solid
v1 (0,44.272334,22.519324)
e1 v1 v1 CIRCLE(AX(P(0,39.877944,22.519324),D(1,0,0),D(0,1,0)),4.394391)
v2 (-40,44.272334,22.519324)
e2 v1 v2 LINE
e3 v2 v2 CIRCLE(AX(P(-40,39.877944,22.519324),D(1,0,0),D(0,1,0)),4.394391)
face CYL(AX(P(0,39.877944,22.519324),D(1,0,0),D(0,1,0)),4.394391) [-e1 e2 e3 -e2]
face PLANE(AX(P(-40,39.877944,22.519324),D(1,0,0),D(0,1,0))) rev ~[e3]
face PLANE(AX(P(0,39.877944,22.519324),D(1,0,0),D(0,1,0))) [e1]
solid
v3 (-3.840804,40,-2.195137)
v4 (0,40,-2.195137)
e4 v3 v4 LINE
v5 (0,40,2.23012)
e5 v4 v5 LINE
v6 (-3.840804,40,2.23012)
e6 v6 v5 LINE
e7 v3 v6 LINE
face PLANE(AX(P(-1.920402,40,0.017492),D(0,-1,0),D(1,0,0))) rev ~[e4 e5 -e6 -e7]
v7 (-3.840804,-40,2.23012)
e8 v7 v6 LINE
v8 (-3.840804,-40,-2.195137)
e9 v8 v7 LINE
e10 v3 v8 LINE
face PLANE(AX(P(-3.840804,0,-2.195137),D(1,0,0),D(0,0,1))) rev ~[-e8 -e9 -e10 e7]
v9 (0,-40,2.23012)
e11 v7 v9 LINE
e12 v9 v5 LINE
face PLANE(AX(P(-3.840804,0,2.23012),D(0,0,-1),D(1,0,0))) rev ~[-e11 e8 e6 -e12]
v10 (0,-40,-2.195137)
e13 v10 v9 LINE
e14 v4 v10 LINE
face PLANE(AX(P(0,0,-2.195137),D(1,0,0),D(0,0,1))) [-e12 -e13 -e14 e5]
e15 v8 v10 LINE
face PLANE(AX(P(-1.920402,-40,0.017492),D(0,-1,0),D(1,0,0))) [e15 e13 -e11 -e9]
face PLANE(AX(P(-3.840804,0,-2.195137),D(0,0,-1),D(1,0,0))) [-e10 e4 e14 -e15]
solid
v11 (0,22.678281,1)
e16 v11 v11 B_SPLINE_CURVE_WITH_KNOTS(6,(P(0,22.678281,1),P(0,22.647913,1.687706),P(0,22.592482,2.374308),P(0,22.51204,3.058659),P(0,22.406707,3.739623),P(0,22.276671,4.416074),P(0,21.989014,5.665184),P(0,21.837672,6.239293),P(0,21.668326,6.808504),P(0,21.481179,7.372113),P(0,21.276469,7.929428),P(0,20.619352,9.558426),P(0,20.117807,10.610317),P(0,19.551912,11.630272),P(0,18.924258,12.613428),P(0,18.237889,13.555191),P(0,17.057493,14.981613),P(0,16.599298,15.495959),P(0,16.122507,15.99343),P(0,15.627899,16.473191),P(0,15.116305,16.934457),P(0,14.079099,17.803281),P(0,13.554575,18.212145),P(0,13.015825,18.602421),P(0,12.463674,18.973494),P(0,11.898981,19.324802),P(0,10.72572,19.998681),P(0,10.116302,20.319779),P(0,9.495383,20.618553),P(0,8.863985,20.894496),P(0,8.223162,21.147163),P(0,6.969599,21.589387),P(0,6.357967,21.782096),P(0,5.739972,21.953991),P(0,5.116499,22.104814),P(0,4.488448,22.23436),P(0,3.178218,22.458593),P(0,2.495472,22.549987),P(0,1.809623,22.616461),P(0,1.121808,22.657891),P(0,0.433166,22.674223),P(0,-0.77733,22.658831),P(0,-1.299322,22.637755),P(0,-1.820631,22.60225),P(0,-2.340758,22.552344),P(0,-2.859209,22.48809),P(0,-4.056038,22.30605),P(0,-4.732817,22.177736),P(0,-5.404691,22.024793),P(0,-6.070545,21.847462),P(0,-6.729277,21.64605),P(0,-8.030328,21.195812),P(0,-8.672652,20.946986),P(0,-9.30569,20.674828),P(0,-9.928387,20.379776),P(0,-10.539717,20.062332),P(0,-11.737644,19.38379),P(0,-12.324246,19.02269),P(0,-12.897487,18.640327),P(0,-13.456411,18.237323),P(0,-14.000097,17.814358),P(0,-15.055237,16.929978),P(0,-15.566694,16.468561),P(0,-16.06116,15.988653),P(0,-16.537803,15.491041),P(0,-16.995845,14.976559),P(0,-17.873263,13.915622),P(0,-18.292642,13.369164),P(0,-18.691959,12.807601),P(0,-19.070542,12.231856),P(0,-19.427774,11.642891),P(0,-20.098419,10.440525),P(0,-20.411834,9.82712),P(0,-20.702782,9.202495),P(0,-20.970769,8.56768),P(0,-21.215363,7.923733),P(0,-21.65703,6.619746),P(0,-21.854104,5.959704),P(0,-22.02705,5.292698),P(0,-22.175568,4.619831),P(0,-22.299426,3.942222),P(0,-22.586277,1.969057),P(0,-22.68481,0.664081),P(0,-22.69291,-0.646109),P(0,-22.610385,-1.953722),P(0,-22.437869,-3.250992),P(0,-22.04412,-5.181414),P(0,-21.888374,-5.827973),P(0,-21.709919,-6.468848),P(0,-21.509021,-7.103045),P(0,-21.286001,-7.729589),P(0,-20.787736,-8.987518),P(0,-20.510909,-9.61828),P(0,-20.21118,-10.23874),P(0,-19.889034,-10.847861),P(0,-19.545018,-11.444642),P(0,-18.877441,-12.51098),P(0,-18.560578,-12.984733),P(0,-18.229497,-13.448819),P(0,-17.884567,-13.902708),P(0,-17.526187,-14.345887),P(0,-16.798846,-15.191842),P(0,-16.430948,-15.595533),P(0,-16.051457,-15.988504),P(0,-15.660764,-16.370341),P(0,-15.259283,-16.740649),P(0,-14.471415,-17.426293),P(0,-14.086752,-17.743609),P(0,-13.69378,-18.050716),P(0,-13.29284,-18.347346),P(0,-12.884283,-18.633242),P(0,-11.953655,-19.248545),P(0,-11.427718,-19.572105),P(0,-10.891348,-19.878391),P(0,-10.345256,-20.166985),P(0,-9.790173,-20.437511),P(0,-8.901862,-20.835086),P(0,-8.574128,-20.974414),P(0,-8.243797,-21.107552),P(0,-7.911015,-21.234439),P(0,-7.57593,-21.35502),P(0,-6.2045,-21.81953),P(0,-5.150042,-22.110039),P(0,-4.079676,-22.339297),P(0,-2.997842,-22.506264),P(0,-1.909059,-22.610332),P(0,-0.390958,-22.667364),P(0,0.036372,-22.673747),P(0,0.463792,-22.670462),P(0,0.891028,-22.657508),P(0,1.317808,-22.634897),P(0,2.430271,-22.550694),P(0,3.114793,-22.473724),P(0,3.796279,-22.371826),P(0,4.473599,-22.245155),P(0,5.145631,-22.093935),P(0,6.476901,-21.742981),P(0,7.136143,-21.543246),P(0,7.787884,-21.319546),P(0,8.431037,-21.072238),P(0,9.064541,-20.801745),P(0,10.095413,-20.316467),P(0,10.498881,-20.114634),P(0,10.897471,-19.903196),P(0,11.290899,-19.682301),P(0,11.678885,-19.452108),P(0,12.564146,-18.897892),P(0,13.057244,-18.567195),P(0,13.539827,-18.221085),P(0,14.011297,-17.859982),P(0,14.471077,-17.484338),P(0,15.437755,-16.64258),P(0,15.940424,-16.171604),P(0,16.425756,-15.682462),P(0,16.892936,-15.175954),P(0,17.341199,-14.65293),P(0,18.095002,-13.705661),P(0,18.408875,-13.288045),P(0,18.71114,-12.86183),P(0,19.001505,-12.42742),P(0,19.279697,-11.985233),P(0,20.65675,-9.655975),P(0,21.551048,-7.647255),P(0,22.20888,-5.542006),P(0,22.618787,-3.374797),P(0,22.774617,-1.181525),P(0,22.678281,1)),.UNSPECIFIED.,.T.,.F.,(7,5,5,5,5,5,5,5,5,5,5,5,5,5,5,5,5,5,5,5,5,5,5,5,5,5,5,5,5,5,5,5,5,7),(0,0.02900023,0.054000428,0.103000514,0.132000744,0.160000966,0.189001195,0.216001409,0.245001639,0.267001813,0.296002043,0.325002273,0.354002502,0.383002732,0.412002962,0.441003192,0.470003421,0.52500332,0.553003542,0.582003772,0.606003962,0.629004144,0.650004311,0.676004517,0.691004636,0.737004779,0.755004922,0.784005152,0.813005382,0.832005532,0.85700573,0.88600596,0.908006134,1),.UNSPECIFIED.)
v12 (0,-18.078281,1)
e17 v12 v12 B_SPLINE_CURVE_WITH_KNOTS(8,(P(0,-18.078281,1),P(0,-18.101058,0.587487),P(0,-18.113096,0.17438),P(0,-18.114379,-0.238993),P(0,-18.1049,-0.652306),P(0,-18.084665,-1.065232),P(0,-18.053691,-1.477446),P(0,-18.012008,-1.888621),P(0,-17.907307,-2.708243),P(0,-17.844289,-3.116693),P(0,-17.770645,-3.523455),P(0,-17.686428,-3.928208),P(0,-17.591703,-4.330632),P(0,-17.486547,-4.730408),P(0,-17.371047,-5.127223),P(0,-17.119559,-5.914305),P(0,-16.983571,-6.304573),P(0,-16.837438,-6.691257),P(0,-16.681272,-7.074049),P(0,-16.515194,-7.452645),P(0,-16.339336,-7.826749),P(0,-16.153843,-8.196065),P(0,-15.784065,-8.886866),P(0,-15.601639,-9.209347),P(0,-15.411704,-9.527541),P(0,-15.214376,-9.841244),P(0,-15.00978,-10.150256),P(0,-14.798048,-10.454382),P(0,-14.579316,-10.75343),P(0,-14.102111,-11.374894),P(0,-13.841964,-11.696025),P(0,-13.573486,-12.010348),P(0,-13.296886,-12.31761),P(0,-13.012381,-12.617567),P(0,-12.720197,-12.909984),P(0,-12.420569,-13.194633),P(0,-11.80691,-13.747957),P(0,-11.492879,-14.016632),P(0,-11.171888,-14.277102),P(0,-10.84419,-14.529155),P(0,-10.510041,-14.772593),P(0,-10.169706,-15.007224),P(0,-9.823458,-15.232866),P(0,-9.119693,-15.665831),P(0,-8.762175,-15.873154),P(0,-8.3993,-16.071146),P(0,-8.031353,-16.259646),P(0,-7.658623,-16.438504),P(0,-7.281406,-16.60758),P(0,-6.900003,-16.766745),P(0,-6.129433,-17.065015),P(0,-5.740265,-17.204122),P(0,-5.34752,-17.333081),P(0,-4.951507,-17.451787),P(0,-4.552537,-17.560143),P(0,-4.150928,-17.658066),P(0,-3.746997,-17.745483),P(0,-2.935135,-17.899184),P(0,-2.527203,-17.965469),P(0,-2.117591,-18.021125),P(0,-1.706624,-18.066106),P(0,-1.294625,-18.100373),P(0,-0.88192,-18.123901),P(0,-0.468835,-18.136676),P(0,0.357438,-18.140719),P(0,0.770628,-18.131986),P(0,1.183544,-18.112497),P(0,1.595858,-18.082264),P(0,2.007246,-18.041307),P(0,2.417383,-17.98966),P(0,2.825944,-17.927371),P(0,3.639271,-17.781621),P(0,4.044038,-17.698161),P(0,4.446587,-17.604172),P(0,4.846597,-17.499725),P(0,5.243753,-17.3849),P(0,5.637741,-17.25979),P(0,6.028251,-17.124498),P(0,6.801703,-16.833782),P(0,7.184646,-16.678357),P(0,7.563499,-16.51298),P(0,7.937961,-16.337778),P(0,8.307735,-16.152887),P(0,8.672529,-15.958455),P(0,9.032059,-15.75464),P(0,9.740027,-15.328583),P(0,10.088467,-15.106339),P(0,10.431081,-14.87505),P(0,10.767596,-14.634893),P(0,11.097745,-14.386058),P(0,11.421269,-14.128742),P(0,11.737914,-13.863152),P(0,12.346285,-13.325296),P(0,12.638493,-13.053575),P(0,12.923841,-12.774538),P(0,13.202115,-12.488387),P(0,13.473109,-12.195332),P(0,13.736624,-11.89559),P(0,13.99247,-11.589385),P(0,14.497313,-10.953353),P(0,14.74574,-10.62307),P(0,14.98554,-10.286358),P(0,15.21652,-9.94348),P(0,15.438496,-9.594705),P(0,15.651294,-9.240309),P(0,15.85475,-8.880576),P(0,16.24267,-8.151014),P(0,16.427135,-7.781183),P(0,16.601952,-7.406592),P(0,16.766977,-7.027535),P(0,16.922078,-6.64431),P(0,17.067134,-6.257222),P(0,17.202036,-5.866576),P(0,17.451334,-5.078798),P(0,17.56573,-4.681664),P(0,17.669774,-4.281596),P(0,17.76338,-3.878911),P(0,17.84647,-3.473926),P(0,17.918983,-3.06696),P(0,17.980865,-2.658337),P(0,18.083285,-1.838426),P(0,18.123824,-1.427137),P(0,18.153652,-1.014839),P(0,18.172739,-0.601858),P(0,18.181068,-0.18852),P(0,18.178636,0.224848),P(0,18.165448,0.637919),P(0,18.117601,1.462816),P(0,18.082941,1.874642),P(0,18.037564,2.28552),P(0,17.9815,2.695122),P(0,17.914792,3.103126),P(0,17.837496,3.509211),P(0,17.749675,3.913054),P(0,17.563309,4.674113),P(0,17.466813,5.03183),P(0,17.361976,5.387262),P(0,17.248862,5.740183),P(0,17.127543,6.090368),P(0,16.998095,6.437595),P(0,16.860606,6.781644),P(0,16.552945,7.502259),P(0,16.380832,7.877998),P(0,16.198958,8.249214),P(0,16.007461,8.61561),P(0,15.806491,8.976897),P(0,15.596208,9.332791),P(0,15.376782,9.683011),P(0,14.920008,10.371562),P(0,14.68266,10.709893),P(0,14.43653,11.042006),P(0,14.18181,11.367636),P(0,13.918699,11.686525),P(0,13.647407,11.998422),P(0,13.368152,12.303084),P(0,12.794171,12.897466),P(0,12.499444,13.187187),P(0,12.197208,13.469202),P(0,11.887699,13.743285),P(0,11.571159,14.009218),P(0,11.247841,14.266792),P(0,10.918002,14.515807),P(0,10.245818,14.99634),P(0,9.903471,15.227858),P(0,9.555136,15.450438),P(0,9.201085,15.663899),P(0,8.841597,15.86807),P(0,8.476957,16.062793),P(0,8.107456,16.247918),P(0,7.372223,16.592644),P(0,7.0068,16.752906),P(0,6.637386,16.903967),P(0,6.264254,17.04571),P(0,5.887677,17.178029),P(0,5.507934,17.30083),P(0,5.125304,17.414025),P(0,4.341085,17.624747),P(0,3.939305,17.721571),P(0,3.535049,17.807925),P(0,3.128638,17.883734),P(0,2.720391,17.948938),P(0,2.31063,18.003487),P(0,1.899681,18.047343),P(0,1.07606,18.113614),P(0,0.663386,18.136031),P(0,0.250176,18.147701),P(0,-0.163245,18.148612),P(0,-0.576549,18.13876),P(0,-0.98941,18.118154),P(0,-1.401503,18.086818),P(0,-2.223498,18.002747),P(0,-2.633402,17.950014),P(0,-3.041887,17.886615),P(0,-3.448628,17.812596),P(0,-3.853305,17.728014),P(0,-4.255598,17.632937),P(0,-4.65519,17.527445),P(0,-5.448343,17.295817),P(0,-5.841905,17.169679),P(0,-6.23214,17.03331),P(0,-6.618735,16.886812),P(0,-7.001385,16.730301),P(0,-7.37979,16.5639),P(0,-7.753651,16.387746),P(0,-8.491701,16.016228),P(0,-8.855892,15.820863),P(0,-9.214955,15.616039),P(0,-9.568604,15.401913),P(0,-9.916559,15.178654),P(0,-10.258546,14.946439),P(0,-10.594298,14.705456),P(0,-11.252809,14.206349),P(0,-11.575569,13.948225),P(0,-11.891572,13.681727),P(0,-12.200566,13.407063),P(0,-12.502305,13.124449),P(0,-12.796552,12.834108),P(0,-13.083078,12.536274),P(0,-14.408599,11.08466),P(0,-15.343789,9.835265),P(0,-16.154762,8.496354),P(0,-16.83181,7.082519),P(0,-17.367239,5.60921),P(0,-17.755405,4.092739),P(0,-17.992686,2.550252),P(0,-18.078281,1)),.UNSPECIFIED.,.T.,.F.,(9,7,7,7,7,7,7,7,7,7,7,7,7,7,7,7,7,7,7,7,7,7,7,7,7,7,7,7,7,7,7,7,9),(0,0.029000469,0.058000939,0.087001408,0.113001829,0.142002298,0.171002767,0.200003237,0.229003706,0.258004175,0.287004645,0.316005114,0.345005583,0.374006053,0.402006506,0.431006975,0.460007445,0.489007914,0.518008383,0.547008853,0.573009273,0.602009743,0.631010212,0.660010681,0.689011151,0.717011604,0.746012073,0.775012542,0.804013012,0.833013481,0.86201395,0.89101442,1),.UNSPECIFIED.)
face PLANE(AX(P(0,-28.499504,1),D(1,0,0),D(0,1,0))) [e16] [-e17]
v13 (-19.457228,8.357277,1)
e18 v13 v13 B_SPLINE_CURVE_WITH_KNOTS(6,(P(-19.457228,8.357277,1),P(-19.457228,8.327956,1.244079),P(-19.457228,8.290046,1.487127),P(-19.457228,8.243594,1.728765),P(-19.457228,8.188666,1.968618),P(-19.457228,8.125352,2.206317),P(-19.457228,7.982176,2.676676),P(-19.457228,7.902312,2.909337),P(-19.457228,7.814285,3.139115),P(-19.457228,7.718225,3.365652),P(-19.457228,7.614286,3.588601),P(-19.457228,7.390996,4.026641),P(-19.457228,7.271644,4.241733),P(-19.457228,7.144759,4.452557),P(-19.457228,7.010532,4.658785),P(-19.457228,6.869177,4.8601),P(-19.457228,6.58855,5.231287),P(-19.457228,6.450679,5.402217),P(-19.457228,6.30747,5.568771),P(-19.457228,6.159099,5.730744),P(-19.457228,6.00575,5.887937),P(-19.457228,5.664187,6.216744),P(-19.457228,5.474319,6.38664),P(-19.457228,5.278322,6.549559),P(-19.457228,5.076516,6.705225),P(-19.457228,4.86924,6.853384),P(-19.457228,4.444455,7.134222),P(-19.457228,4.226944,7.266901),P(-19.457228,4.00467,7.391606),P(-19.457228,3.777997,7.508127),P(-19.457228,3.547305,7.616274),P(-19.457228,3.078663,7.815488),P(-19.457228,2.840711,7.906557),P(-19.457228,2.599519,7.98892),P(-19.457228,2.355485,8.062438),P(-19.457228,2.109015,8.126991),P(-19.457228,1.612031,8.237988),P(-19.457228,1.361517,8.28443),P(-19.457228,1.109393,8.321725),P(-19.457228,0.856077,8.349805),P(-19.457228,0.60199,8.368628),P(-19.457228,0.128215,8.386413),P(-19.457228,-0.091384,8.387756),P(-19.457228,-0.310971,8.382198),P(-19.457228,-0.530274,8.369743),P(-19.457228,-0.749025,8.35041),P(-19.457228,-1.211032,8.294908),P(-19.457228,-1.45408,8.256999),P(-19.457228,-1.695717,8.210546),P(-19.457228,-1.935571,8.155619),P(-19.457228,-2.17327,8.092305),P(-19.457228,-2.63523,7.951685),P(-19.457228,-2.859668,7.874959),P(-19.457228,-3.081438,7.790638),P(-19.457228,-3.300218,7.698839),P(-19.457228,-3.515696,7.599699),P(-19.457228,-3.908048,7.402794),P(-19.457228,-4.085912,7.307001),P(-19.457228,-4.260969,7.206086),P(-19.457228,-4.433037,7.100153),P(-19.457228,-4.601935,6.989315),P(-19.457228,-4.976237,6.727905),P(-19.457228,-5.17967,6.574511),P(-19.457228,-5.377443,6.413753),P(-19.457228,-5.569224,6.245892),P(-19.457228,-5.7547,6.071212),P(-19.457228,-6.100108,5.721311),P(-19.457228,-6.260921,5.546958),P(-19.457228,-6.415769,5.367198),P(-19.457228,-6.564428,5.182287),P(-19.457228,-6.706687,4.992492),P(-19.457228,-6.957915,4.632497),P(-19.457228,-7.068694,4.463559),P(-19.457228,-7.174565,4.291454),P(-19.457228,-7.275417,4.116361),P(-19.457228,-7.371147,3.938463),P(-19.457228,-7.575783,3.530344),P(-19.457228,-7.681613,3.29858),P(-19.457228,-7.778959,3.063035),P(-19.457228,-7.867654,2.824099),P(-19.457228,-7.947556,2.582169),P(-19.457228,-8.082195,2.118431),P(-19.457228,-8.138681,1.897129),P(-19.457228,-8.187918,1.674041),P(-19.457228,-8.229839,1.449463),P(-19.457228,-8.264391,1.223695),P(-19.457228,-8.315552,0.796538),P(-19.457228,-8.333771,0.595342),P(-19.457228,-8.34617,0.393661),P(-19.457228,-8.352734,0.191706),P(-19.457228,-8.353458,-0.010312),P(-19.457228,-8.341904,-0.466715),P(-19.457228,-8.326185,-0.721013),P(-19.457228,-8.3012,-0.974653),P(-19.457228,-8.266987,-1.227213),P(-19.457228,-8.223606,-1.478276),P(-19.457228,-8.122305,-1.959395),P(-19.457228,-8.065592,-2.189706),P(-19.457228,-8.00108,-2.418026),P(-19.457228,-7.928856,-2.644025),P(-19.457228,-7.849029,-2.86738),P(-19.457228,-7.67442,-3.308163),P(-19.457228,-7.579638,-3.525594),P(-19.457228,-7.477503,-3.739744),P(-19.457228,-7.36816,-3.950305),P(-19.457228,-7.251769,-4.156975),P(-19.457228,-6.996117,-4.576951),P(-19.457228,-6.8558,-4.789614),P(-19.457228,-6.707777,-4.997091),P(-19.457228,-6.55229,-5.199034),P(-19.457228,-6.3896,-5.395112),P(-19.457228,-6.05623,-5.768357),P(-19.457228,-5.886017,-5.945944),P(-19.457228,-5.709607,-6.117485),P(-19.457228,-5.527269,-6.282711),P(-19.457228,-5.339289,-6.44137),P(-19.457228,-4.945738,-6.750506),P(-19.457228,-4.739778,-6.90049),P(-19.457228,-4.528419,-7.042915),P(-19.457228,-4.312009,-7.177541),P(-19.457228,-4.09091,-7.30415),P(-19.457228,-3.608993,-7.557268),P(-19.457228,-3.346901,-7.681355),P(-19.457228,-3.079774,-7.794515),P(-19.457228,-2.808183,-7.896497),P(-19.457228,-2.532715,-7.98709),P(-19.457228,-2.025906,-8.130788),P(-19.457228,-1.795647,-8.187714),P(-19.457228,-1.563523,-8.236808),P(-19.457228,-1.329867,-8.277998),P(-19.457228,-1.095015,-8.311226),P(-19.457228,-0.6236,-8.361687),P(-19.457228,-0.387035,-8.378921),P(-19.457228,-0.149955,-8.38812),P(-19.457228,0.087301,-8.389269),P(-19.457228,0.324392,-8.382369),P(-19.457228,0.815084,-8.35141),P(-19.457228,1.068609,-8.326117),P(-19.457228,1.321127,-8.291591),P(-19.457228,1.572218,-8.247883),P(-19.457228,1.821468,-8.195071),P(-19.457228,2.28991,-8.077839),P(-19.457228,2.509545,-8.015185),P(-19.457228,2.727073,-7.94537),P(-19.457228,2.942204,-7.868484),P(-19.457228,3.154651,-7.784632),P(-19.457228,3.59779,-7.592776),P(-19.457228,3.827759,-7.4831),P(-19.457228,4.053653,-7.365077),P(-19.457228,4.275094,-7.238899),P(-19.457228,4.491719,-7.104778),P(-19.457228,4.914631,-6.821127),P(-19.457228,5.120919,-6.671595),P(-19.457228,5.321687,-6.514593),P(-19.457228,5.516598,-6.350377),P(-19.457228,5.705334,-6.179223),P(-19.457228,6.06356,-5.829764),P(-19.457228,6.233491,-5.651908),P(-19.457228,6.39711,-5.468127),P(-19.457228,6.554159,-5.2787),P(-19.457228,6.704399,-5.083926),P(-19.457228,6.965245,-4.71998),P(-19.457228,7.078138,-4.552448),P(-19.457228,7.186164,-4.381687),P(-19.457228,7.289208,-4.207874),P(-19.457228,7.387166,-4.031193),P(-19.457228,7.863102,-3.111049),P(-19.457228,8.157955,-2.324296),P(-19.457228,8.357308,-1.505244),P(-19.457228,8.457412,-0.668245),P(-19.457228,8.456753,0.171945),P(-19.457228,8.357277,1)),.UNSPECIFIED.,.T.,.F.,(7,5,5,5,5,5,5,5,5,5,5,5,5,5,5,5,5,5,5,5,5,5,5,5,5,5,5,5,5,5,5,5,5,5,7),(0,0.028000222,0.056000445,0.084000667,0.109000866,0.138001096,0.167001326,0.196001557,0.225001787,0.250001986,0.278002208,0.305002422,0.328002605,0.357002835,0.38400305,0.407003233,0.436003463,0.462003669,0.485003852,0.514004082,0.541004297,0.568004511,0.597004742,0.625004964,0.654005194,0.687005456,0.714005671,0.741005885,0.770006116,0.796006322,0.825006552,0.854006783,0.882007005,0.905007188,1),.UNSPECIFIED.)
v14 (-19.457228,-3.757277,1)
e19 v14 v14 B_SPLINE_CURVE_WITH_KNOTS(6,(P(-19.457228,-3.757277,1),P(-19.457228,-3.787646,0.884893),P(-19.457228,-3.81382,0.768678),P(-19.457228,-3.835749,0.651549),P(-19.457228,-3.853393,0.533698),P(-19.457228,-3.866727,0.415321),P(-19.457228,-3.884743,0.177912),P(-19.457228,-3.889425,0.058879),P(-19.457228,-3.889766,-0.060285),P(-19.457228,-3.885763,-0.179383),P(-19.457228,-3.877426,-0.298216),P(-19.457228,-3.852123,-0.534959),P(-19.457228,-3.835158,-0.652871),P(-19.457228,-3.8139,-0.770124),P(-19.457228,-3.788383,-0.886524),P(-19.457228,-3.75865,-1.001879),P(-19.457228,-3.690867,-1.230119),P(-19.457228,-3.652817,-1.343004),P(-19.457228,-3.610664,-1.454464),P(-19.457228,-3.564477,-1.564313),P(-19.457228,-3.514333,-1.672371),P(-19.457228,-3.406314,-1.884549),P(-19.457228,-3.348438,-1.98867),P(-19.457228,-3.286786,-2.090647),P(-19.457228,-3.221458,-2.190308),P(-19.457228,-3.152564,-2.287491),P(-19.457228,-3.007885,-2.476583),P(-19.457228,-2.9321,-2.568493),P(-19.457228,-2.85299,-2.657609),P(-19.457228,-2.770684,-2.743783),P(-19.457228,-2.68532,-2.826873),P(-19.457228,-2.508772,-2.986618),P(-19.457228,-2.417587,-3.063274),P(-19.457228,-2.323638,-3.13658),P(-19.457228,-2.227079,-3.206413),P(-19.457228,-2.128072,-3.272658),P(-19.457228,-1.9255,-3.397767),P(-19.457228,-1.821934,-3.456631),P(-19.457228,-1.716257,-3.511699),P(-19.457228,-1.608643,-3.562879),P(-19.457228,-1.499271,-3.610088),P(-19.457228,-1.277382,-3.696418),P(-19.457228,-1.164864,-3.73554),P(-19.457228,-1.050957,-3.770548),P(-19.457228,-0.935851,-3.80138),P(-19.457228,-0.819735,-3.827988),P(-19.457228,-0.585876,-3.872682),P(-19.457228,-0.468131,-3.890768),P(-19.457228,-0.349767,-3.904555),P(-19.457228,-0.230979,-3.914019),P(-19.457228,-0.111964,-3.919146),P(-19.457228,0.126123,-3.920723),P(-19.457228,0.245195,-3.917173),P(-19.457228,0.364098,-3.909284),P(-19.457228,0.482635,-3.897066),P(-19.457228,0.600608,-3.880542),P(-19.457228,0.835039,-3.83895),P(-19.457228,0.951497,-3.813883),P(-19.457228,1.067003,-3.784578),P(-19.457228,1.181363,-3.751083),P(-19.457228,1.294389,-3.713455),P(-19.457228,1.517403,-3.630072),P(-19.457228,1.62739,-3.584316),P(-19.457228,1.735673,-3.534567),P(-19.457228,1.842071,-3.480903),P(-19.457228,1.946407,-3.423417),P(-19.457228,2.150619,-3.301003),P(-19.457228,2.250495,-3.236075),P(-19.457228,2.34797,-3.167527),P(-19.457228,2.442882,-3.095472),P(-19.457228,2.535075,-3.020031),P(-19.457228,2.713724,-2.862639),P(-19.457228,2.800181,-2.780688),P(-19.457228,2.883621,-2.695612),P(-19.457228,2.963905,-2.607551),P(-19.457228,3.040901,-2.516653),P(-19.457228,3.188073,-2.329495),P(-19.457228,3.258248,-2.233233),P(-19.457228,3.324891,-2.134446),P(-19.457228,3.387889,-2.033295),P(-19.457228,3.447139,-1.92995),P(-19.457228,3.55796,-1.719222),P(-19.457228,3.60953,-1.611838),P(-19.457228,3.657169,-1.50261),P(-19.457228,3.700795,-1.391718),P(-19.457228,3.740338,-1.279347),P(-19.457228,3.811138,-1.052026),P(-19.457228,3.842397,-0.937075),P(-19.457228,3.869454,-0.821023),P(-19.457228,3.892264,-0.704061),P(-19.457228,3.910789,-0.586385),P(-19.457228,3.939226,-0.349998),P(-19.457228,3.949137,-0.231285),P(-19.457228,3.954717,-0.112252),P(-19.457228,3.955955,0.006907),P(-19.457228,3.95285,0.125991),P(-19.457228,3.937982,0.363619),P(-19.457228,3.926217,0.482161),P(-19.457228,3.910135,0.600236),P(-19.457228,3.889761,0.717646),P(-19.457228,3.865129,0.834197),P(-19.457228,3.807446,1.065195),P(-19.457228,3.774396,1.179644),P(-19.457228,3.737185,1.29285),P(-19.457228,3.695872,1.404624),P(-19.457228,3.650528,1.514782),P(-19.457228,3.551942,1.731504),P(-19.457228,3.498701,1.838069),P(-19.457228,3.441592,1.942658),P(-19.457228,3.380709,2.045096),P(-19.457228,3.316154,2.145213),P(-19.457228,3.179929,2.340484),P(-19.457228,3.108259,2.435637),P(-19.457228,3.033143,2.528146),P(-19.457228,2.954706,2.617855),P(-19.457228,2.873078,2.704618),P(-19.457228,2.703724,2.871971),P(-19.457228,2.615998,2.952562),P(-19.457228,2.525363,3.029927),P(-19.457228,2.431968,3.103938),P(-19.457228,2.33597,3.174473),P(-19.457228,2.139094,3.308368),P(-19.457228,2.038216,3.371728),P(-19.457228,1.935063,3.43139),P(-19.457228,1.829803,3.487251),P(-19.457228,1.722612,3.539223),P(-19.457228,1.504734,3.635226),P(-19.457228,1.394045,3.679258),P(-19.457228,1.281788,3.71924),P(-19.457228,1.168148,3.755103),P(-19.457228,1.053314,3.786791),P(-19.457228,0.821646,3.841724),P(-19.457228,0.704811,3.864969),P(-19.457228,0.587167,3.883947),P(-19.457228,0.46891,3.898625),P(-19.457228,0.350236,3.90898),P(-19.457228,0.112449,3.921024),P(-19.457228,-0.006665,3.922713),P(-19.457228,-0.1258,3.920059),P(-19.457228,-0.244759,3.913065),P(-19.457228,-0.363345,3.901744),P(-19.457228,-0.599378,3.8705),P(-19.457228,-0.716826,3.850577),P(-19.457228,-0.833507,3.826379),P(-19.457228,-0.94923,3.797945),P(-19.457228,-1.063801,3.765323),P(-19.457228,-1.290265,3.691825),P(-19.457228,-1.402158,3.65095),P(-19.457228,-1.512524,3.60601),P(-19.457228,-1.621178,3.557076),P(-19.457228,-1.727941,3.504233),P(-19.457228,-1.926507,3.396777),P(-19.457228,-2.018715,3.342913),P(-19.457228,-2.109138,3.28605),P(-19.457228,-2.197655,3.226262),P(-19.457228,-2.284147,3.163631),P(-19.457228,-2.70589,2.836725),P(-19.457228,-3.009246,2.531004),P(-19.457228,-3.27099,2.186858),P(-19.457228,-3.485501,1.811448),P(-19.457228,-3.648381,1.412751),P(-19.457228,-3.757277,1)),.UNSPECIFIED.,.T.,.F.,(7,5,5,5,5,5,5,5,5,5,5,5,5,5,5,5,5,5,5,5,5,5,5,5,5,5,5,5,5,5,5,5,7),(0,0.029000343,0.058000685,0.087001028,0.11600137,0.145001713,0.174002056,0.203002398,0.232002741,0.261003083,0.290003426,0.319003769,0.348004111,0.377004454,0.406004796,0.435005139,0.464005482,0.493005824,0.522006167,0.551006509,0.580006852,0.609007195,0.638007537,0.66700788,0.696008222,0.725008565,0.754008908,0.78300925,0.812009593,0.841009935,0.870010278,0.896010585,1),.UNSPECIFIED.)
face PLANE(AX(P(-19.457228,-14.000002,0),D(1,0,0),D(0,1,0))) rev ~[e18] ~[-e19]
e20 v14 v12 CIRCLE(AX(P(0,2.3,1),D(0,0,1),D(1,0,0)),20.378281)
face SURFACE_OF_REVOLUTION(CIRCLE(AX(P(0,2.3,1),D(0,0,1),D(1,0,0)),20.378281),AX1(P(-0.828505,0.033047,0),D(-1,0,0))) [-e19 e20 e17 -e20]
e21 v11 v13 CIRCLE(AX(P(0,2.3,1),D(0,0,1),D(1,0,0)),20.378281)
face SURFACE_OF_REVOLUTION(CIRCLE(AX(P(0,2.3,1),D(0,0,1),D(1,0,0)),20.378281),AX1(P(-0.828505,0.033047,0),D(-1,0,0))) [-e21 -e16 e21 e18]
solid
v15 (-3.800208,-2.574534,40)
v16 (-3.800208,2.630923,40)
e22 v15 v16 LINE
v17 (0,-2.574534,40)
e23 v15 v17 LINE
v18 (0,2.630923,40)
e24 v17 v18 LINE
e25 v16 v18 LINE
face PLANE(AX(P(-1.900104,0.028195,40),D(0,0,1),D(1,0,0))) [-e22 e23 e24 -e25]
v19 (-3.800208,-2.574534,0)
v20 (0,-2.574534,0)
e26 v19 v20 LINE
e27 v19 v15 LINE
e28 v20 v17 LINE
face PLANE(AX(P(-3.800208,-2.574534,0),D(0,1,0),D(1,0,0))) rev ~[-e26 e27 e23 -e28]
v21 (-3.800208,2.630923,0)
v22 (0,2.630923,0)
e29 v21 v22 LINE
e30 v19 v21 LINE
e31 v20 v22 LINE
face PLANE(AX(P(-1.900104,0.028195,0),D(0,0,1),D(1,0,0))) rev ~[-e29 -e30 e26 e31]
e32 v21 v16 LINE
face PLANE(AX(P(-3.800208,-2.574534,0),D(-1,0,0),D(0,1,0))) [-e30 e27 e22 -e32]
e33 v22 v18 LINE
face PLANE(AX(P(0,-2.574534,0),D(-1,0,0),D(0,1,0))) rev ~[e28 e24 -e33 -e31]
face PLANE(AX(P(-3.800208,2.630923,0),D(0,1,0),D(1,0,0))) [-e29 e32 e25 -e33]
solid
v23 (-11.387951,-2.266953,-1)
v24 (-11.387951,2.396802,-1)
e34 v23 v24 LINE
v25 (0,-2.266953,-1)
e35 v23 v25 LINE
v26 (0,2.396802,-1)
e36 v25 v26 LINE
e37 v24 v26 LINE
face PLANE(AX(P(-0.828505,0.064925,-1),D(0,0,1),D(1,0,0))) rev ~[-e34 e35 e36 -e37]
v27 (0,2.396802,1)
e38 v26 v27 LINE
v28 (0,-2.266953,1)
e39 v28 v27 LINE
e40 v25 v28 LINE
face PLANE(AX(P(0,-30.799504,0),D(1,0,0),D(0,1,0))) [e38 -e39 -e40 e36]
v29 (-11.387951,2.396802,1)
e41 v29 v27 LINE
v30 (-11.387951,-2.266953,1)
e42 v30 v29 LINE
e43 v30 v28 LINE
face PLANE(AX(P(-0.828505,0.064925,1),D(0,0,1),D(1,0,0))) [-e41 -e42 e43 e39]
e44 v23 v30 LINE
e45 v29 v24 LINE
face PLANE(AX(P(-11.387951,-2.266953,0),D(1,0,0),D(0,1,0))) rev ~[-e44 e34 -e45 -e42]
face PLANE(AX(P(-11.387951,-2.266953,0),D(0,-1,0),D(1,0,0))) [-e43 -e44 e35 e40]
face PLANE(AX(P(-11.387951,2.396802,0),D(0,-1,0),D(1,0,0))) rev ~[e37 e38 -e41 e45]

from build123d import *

# Parameters (mm, degrees)
F1_W      = 21.1188904941
F1_H      = 4.6637551859
F2_DEPTH  = 1
F0_R      = 20.3782812444
F4_W      = 29.2367804796
F4_H      = 57.13144131
F5_DEPTH  = 25
F6_W      = 3.8408043329
F6_H      = 4.4252569787
F7_DEPTH  = 40
F8_W      = 3.8002075162
F8_H      = 5.2054570988
F9_DEPTH  = 40
F12_W     = 8.9062079787
F12_H     = 25.4112929106
F13_DEPTH = 12.5
F14_R     = 4.3943907086
F15_DEPTH = 40


with BuildPart() as f2:
    # F1 (on Top) → F2 (new body, symmetric)
    with BuildSketch(Plane.XY):
        with Locations((-0.8285054937, 0.064924825)):
            Rectangle(F1_W, F1_H)
    extrude(amount=F2_DEPTH, both=True)


with BuildPart() as f3:
    # F0 (on Top) → F3 (revolve)
    with BuildSketch(Plane.XY):
        Circle(F0_R)
    revolve(axis=Axis((-0.8285054937, -2.266952768, -1), (-1, 0, 0)))


with BuildPart() as f5_tool:
    # F4 (on Top) → F5 (new body, symmetric)
    with BuildSketch(Plane.XY):
        with Locations((14.6183902398, -2.2337837145)):
            Rectangle(F4_W, F4_H)
    extrude(amount=F5_DEPTH, both=True)


with BuildPart() as f2_1:
    add(f2.part)

    # F5: cut by f5_tool
    add(f5_tool.part, mode=Mode.SUBTRACT)


with BuildPart() as f3_1:
    add(f3.part)

    # F5: cut by f5_tool
    add(f5_tool.part, mode=Mode.SUBTRACT)


with BuildPart() as f7:
    # F6 (on Front) → F7 (new body, symmetric)
    with BuildSketch(Plane.XZ):
        with Locations((-1.9204021664, 0.0174918678)):
            Rectangle(F6_W, F6_H)
    extrude(amount=F7_DEPTH, both=True)


with BuildPart() as f9:
    # F8 (on Top) → F9 (new body)
    with BuildSketch(Plane.XY):
        with Locations((-1.9001037581, 0.0281946268)):
            Rectangle(F8_W, F8_H)
    extrude(amount=F9_DEPTH)


with BuildPart() as f3_2:
    # F10: moved
    add(f3_1.part.moved(Location((0, 2.3, 0))))


with BuildPart() as f3_3:
    # F11: moved
    add(f3_2.part.moved(Location((0, 0, 1))))

    # F12 (on Top) → F13 (cut, symmetric)
    with BuildSketch(Plane.XY):
        with Locations((-23.9103324711, -1.2943558395)):
            Rectangle(F12_W, F12_H)
    extrude(amount=F13_DEPTH, both=True, mode=Mode.SUBTRACT)


with BuildPart() as f15:
    # F14 (on Right) → F15 (new body)
    with BuildSketch(Plane.YZ):
        with Locations((39.8779436946, 22.5193239748)):
            Circle(F14_R)
    extrude(amount=-F15_DEPTH)


solid = Compound([f2_1.part, f7.part, f9.part, f3_3.part, f15.part])
